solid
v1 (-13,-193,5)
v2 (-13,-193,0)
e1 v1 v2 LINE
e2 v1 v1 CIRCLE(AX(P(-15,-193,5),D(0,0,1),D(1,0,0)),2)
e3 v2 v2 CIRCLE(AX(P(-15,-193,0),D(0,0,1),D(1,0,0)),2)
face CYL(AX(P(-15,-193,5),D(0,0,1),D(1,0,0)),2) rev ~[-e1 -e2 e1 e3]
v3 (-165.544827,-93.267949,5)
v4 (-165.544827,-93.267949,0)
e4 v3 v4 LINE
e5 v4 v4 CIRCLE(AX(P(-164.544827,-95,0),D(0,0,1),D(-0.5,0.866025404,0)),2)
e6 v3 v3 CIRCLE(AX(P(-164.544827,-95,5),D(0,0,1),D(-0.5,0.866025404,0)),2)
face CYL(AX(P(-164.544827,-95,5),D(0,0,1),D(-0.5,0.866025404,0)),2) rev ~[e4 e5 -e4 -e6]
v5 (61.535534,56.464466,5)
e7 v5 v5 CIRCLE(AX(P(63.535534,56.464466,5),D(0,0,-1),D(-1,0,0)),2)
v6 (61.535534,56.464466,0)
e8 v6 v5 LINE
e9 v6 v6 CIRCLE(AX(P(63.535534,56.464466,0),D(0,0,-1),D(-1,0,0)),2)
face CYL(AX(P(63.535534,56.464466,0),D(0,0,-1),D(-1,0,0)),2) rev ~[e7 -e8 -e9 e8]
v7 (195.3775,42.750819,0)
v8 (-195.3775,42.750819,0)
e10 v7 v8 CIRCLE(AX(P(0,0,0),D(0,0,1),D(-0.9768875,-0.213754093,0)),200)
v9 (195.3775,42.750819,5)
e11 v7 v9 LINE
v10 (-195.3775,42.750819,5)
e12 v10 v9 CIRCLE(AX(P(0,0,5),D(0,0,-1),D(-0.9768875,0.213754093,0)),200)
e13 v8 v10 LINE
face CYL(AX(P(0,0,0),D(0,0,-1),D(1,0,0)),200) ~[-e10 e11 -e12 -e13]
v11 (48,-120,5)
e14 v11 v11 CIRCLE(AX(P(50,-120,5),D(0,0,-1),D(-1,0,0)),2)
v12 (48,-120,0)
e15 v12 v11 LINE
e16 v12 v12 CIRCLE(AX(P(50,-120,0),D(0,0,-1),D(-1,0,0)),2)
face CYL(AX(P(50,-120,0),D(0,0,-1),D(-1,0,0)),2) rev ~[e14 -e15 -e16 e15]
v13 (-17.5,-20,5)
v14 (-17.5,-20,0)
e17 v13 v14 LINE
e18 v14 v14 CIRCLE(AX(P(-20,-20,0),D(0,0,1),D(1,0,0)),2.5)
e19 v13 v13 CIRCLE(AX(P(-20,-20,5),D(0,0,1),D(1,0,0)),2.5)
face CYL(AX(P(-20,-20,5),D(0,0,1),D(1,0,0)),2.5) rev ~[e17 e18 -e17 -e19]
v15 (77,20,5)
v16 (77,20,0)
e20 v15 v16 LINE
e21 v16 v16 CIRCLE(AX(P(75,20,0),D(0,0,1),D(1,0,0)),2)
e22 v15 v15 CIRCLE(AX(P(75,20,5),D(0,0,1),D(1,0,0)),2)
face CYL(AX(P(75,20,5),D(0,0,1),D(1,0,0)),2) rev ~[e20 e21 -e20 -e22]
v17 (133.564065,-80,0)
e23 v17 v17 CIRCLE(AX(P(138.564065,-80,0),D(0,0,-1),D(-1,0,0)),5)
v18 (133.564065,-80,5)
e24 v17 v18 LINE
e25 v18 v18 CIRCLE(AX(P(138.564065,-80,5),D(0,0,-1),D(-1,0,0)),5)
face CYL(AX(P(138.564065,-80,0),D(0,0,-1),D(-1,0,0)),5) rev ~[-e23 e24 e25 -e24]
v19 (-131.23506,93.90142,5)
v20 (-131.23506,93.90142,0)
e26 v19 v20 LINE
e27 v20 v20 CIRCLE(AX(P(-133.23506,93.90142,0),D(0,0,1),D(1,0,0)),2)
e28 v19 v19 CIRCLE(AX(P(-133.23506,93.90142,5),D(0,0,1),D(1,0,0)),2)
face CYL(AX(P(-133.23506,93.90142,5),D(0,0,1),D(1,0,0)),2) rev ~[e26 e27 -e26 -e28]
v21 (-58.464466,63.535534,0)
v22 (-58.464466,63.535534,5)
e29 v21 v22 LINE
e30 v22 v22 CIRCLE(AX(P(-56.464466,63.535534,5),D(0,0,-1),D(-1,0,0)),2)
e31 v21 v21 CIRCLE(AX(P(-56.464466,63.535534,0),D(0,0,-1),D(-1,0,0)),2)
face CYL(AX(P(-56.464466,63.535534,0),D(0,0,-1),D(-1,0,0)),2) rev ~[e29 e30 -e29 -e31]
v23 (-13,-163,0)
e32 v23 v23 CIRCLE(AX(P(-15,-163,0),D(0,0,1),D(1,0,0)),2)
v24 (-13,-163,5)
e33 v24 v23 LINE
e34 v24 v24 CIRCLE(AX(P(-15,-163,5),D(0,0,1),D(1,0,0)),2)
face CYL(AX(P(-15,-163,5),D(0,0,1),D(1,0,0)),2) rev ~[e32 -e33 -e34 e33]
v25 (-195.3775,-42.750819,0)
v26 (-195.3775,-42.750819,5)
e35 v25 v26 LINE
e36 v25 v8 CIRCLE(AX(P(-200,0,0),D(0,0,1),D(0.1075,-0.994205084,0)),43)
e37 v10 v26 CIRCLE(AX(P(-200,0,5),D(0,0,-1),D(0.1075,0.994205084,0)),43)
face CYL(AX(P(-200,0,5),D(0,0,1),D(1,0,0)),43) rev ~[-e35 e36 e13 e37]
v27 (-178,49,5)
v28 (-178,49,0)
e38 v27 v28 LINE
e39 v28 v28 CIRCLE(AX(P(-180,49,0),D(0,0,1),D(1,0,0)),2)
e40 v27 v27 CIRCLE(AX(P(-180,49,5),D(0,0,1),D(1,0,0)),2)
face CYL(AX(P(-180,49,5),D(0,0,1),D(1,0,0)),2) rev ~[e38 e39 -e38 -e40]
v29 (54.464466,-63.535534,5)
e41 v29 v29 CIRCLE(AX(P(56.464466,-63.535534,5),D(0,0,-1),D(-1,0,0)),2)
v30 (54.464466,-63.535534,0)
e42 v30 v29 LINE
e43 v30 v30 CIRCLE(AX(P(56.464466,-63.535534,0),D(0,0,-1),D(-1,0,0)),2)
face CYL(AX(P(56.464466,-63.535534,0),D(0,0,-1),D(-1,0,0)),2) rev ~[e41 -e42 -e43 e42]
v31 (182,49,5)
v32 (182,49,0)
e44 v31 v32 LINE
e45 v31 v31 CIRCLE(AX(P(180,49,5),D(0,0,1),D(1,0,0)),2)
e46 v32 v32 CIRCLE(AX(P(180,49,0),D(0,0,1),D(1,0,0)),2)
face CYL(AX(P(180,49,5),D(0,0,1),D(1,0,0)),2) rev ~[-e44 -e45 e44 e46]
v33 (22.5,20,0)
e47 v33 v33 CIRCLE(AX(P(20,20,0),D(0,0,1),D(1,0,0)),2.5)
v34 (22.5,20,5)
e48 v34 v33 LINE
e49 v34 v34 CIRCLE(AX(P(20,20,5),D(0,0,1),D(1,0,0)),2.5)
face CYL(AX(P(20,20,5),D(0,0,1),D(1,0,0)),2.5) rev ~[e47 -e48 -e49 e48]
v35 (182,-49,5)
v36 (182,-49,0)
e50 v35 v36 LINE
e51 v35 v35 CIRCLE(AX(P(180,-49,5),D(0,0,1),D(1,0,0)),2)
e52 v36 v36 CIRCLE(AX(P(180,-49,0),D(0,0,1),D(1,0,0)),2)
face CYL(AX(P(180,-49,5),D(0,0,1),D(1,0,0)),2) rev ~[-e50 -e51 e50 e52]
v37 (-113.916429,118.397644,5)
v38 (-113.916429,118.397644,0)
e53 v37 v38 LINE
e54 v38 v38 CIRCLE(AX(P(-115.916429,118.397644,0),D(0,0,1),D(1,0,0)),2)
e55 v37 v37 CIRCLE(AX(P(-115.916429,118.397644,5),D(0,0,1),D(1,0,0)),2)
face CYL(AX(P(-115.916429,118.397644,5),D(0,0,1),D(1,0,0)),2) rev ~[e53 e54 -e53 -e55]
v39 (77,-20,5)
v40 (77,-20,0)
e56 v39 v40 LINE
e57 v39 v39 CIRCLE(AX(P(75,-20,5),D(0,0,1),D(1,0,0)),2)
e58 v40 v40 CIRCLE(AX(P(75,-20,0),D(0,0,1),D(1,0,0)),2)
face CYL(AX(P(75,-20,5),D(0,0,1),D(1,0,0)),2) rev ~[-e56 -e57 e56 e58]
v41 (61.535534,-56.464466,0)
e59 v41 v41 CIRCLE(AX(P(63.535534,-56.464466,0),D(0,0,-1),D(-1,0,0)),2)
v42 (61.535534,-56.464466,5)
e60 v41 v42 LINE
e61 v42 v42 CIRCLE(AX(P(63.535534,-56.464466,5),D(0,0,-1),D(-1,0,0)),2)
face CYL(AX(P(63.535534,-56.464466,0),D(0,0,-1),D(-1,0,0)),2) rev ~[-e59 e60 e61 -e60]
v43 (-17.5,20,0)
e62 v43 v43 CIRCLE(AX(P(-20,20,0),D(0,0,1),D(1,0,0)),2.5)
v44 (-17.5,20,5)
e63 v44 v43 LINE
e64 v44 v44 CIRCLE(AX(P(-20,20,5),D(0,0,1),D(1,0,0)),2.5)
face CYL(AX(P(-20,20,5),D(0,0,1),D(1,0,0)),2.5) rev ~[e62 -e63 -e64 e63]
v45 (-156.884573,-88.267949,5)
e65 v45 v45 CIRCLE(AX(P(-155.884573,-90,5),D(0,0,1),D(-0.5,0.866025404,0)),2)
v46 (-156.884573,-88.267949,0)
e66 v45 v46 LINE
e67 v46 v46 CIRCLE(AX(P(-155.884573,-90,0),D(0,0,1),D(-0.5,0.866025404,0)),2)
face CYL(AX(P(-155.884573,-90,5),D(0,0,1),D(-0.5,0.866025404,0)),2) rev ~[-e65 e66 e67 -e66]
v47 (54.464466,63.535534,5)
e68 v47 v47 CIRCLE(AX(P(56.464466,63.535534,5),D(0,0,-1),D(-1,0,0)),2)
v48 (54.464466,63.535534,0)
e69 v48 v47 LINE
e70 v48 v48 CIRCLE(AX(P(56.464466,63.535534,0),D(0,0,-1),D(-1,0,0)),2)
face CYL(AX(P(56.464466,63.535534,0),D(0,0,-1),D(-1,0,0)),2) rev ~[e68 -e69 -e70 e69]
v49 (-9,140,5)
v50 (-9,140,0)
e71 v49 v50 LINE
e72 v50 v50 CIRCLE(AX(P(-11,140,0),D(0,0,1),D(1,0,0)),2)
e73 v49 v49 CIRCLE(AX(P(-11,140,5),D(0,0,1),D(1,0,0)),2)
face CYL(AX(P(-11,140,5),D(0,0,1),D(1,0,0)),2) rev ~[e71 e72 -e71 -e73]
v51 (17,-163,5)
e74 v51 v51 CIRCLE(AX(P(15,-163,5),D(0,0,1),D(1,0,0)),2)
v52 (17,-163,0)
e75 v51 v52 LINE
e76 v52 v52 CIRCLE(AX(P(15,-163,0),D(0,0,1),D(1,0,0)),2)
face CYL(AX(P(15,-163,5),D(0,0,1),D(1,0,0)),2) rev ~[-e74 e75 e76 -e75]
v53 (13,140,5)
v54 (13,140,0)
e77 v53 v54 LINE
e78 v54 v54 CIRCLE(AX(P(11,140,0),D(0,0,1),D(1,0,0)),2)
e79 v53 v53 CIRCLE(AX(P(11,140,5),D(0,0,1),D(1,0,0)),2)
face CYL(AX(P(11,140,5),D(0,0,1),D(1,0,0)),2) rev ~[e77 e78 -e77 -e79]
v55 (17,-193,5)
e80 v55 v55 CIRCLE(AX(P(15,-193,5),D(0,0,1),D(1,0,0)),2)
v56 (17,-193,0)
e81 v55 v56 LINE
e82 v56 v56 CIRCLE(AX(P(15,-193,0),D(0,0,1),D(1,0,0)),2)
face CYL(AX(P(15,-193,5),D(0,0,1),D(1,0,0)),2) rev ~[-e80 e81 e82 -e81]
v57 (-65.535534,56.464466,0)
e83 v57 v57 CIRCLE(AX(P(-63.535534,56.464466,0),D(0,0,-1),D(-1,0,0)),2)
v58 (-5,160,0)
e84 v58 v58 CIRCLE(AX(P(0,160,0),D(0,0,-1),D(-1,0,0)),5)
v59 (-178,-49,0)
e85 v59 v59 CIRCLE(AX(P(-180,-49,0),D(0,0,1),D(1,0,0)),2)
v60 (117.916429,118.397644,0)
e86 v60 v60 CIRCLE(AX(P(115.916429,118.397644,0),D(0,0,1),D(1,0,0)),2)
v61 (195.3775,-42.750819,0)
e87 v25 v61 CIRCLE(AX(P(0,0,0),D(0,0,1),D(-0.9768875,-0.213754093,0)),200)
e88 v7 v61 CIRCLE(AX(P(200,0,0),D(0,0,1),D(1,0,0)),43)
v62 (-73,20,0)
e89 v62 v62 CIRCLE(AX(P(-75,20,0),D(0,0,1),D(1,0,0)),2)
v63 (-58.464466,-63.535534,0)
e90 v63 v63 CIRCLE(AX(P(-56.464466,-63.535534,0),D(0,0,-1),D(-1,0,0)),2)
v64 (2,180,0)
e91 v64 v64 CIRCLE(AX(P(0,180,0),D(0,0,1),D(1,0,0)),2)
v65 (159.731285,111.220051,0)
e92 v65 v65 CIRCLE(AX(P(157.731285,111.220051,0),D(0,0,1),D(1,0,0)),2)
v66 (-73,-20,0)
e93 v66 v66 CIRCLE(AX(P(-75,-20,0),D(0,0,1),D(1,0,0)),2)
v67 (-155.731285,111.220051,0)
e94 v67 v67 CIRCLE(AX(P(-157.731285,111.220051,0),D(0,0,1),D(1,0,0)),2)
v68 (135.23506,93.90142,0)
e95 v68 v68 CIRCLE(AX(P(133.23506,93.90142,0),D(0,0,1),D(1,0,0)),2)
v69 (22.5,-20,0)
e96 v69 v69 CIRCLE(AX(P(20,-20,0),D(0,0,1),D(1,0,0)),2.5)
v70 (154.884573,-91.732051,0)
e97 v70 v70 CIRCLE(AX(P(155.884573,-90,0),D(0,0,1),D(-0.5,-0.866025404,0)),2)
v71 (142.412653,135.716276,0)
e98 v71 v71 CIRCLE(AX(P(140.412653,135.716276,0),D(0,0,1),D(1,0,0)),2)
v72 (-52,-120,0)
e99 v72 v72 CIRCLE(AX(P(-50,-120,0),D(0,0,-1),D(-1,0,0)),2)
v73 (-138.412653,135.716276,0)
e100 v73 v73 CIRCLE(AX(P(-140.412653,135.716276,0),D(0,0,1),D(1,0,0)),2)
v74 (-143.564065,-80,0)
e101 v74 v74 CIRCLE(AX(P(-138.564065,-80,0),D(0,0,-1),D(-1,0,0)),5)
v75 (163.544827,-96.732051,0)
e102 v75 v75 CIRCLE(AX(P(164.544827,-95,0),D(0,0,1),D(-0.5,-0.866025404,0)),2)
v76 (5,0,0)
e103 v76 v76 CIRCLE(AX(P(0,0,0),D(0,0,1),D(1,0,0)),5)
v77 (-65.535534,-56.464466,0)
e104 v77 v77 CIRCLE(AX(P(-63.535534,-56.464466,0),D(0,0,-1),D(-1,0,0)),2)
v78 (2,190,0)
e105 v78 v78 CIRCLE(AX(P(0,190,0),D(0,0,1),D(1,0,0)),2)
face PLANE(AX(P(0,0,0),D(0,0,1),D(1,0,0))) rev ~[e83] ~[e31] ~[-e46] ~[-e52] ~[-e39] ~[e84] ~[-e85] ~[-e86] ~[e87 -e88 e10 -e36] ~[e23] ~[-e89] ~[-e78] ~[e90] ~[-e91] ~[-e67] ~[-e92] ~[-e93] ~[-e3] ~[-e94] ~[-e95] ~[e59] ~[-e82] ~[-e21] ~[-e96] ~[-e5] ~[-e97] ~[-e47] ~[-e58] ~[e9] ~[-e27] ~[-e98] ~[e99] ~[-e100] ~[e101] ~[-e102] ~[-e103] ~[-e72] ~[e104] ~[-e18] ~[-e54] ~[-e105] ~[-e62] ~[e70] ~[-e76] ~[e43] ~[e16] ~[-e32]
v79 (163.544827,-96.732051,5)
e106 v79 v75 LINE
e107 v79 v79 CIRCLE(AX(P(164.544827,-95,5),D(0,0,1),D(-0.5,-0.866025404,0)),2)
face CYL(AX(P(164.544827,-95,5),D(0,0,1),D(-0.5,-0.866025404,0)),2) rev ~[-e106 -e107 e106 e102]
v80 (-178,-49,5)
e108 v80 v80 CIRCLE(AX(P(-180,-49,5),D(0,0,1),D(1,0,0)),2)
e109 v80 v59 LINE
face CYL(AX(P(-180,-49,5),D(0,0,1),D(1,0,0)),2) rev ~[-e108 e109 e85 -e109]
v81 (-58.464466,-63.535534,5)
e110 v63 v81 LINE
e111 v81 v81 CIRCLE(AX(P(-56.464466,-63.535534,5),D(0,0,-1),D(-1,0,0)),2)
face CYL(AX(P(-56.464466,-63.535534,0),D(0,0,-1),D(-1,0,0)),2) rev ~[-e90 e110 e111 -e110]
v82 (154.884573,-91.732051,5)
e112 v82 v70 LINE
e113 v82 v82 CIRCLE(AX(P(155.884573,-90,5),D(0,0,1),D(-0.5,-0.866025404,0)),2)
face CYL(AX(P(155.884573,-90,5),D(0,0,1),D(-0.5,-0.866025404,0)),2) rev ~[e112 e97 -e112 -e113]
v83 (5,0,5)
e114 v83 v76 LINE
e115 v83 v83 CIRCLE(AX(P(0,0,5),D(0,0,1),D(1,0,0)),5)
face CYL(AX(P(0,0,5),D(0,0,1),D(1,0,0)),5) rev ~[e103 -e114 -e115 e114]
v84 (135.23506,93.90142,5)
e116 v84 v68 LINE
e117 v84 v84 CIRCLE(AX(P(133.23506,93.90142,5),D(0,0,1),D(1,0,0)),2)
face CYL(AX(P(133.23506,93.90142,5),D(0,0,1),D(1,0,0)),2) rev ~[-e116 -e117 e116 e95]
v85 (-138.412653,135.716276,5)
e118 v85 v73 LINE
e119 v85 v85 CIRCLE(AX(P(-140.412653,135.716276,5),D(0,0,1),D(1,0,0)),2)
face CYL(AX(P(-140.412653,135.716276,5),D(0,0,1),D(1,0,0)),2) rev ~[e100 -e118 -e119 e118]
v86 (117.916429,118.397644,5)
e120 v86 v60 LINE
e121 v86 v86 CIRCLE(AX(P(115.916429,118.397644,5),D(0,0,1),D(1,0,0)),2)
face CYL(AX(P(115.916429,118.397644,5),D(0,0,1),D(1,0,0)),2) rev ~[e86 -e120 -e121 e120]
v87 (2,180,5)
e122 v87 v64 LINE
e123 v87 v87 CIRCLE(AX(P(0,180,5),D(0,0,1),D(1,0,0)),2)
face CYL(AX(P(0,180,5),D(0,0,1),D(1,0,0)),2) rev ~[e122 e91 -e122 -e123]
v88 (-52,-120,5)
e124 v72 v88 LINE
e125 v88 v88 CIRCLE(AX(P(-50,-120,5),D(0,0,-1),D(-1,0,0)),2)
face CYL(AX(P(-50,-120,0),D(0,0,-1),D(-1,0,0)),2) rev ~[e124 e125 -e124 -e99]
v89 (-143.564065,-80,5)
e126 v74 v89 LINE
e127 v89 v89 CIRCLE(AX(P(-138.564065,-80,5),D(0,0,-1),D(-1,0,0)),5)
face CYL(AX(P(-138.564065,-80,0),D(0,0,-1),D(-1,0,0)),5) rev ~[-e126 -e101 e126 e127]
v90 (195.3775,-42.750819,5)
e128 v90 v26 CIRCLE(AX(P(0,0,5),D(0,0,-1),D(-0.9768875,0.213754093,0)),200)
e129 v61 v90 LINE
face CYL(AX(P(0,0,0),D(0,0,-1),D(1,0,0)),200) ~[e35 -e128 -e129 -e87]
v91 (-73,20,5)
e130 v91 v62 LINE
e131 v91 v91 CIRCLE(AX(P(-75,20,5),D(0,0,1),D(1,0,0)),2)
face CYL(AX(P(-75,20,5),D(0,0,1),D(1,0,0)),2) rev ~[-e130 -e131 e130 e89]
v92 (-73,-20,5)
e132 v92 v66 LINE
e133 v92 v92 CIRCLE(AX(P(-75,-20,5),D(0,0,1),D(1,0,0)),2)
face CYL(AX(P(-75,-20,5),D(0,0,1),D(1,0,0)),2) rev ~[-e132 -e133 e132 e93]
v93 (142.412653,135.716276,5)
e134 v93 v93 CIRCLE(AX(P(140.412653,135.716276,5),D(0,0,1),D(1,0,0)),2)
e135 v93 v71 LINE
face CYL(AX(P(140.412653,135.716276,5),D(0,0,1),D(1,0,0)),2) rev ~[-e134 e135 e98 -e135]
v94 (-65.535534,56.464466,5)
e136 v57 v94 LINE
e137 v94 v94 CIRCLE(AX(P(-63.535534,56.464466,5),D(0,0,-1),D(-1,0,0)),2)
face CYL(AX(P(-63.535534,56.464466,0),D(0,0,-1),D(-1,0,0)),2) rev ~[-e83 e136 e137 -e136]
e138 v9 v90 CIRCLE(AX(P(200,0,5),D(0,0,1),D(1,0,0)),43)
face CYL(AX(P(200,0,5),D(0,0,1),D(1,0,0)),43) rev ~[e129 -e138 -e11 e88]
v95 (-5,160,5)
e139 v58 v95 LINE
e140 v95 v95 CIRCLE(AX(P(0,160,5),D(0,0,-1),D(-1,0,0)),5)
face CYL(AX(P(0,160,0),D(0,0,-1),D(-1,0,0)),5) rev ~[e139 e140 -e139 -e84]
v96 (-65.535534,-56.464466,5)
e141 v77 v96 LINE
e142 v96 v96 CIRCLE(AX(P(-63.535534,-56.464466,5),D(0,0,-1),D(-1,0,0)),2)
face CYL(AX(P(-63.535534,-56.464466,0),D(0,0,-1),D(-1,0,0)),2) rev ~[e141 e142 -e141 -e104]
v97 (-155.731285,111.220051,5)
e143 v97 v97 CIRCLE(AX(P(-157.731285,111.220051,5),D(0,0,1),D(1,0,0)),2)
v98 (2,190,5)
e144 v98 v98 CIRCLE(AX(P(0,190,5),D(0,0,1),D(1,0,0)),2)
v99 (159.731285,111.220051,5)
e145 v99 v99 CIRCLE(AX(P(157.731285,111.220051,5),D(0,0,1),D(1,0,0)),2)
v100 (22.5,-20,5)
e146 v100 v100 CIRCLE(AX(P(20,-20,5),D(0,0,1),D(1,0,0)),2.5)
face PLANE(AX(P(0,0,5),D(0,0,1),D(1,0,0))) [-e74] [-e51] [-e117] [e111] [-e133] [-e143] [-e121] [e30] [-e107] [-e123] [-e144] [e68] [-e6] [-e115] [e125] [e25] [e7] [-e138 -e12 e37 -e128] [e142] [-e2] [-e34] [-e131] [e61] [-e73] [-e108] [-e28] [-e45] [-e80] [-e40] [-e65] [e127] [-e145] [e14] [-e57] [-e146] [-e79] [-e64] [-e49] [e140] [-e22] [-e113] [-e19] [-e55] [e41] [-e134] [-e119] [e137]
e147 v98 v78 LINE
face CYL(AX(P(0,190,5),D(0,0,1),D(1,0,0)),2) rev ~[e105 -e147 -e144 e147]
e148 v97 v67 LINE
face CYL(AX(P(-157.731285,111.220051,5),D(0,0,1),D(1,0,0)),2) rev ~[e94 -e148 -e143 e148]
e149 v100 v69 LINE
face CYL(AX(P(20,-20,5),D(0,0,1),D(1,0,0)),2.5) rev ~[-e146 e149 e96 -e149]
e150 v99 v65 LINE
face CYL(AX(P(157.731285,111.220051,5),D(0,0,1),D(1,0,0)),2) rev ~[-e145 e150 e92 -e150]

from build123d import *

# Parameters (mm, degrees)
SKETCH1_R           = 200
BOSS_EXTRUDE1_DEPTH = 5
SKETCH3_R           = 2
CUT_EXTRUDE1_DEPTH  = 5
CIRPATTERN1_COUNT   = 3
CUT_EXTRUDE2_REACH  = 7
SKETCH4_R           = 43
CUT_EXTRUDE3_REACH  = 7
SKETCH5_R           = 2
CUT_EXTRUDE4_REACH  = 7
SKETCH6_R           = 2.5
SKETCH6_R_2         = 5
CUT_EXTRUDE5_REACH  = 7
SKETCH7_R           = 2
CUT_EXTRUDE6_REACH  = 7
SKETCH8_R           = 2
CUT_EXTRUDE7_REACH  = 7
SKETCH9_R           = 2
CUT_EXTRUDE8_REACH  = 7
SKETCH11_R          = 2
CUT_EXTRUDE9_REACH  = 7
SKETCH12_R          = 2
CUT_EXTRUDE10_REACH = 7
SKETCH10_R          = 5


with BuildPart() as part:
    # Sketch1 → Boss-Extrude1 (new body)
    with BuildSketch(Plane.XY):
        Circle(SKETCH1_R)
    extrude(amount=BOSS_EXTRUDE1_DEPTH)

    # Sketch3 → Cut-Extrude1 (cut)
    with BuildSketch(Plane.XY.offset(5)):
        with Locations((0, 190)):
            Circle(SKETCH3_R)
        with Locations((0, 180)):
            Circle(SKETCH3_R)
    cut_extrude1 = extrude(amount=-CUT_EXTRUDE1_DEPTH, mode=Mode.SUBTRACT)

    # CirPattern1: Cut-Extrude1 ×3 about axis
    cirpattern1_axis = Axis((0, 0, 0), (0, 0, 1))
    for i in range(1, CIRPATTERN1_COUNT):
        add(cut_extrude1.rotate(cirpattern1_axis, i * 360 / CIRPATTERN1_COUNT), mode=Mode.SUBTRACT)

    # Sketch4 → Cut-Extrude2 (cut, up to next)
    with BuildSketch(Plane.XY.offset(5), mode=Mode.PRIVATE) as cut_extrude2_sk1:
        with Locations((-200, 0)):
            Circle(SKETCH4_R)
    cut_extrude2_tool1 = extrude(cut_extrude2_sk1.sketch, amount=-CUT_EXTRUDE2_REACH, mode=Mode.PRIVATE) & part.part
    add(cut_extrude2_tool1.solids().sort_by_distance((-200, 0, 5))[0], mode=Mode.SUBTRACT)
    # Sketch4 → Cut-Extrude2 (cut, up to next)
    with BuildSketch(Plane.XY.offset(5), mode=Mode.PRIVATE) as cut_extrude2_sk2:
        with Locations((200, 0)):
            Circle(SKETCH4_R)
    cut_extrude2_tool2 = extrude(cut_extrude2_sk2.sketch, amount=-CUT_EXTRUDE2_REACH, mode=Mode.PRIVATE) & part.part
    add(cut_extrude2_tool2.solids().sort_by_distance((200, 0, 5))[0], mode=Mode.SUBTRACT)

    # Sketch5 → Cut-Extrude3 (cut, up to next)
    with BuildSketch(Plane.XY.offset(5), mode=Mode.PRIVATE) as cut_extrude3_sk1:
        with Locations((180, 49)):
            Circle(SKETCH5_R)
    cut_extrude3_tool1 = extrude(cut_extrude3_sk1.sketch, amount=-CUT_EXTRUDE3_REACH, mode=Mode.PRIVATE) & part.part
    add(cut_extrude3_tool1.solids().sort_by_distance((180, 49, 5))[0], mode=Mode.SUBTRACT)
    # Sketch5 → Cut-Extrude3 (cut, up to next)
    with BuildSketch(Plane.XY.offset(5), mode=Mode.PRIVATE) as cut_extrude3_sk2:
        with Locations((180, -49)):
            Circle(SKETCH5_R)
    cut_extrude3_tool2 = extrude(cut_extrude3_sk2.sketch, amount=-CUT_EXTRUDE3_REACH, mode=Mode.PRIVATE) & part.part
    add(cut_extrude3_tool2.solids().sort_by_distance((180, -49, 5))[0], mode=Mode.SUBTRACT)
    # Sketch5 → Cut-Extrude3 (cut, up to next)
    with BuildSketch(Plane.XY.offset(5), mode=Mode.PRIVATE) as cut_extrude3_sk3:
        with Locations((-180, -49)):
            Circle(SKETCH5_R)
    cut_extrude3_tool3 = extrude(cut_extrude3_sk3.sketch, amount=-CUT_EXTRUDE3_REACH, mode=Mode.PRIVATE) & part.part
    add(cut_extrude3_tool3.solids().sort_by_distance((-180, -49, 5))[0], mode=Mode.SUBTRACT)
    # Sketch5 → Cut-Extrude3 (cut, up to next)
    with BuildSketch(Plane.XY.offset(5), mode=Mode.PRIVATE) as cut_extrude3_sk4:
        with Locations((-180, 49)):
            Circle(SKETCH5_R)
    cut_extrude3_tool4 = extrude(cut_extrude3_sk4.sketch, amount=-CUT_EXTRUDE3_REACH, mode=Mode.PRIVATE) & part.part
    add(cut_extrude3_tool4.solids().sort_by_distance((-180, 49, 5))[0], mode=Mode.SUBTRACT)

    # Sketch6 → Cut-Extrude4 (cut, up to next)
    with BuildSketch(Plane.XY.offset(5), mode=Mode.PRIVATE) as cut_extrude4_sk1:
        with Locations((-20, -20)):
            Circle(SKETCH6_R)
    cut_extrude4_tool1 = extrude(cut_extrude4_sk1.sketch, amount=-CUT_EXTRUDE4_REACH, mode=Mode.PRIVATE) & part.part
    add(cut_extrude4_tool1.solids().sort_by_distance((-20, -20, 5))[0], mode=Mode.SUBTRACT)
    # Sketch6 → Cut-Extrude4 (cut, up to next)
    with BuildSketch(Plane.XY.offset(5), mode=Mode.PRIVATE) as cut_extrude4_sk2:
        with Locations((-20, 20)):
            Circle(SKETCH6_R)
    cut_extrude4_tool2 = extrude(cut_extrude4_sk2.sketch, amount=-CUT_EXTRUDE4_REACH, mode=Mode.PRIVATE) & part.part
    add(cut_extrude4_tool2.solids().sort_by_distance((-20, 20, 5))[0], mode=Mode.SUBTRACT)
    # Sketch6 → Cut-Extrude4 (cut, up to next)
    with BuildSketch(Plane.XY.offset(5), mode=Mode.PRIVATE) as cut_extrude4_sk3:
        Circle(SKETCH6_R_2)
    cut_extrude4_tool3 = extrude(cut_extrude4_sk3.sketch, amount=-CUT_EXTRUDE4_REACH, mode=Mode.PRIVATE) & part.part
    add(cut_extrude4_tool3.solids().sort_by_distance((0, 0, 5))[0], mode=Mode.SUBTRACT)
    # Sketch6 → Cut-Extrude4 (cut, up to next)
    with BuildSketch(Plane.XY.offset(5), mode=Mode.PRIVATE) as cut_extrude4_sk4:
        with Locations((20, -20)):
            Circle(SKETCH6_R)
    cut_extrude4_tool4 = extrude(cut_extrude4_sk4.sketch, amount=-CUT_EXTRUDE4_REACH, mode=Mode.PRIVATE) & part.part
    add(cut_extrude4_tool4.solids().sort_by_distance((20, -20, 5))[0], mode=Mode.SUBTRACT)
    # Sketch6 → Cut-Extrude4 (cut, up to next)
    with BuildSketch(Plane.XY.offset(5), mode=Mode.PRIVATE) as cut_extrude4_sk5:
        with Locations((20, 20)):
            Circle(SKETCH6_R)
    cut_extrude4_tool5 = extrude(cut_extrude4_sk5.sketch, amount=-CUT_EXTRUDE4_REACH, mode=Mode.PRIVATE) & part.part
    add(cut_extrude4_tool5.solids().sort_by_distance((20, 20, 5))[0], mode=Mode.SUBTRACT)

    # Sketch7 → Cut-Extrude5 (cut, up to next)
    with BuildSketch(Plane.XY.offset(5), mode=Mode.PRIVATE) as cut_extrude5_sk1:
        with Locations((-15, -193)):
            Circle(SKETCH7_R)
    cut_extrude5_tool1 = extrude(cut_extrude5_sk1.sketch, amount=-CUT_EXTRUDE5_REACH, mode=Mode.PRIVATE) & part.part
    add(cut_extrude5_tool1.solids().sort_by_distance((-15, -193, 5))[0], mode=Mode.SUBTRACT)
    # Sketch7 → Cut-Extrude5 (cut, up to next)
    with BuildSketch(Plane.XY.offset(5), mode=Mode.PRIVATE) as cut_extrude5_sk2:
        with Locations((15, -193)):
            Circle(SKETCH7_R)
    cut_extrude5_tool2 = extrude(cut_extrude5_sk2.sketch, amount=-CUT_EXTRUDE5_REACH, mode=Mode.PRIVATE) & part.part
    add(cut_extrude5_tool2.solids().sort_by_distance((15, -193, 5))[0], mode=Mode.SUBTRACT)
    # Sketch7 → Cut-Extrude5 (cut, up to next)
    with BuildSketch(Plane.XY.offset(5), mode=Mode.PRIVATE) as cut_extrude5_sk3:
        with Locations((15, -163)):
            Circle(SKETCH7_R)
    cut_extrude5_tool3 = extrude(cut_extrude5_sk3.sketch, amount=-CUT_EXTRUDE5_REACH, mode=Mode.PRIVATE) & part.part
    add(cut_extrude5_tool3.solids().sort_by_distance((15, -163, 5))[0], mode=Mode.SUBTRACT)
    # Sketch7 → Cut-Extrude5 (cut, up to next)
    with BuildSketch(Plane.XY.offset(5), mode=Mode.PRIVATE) as cut_extrude5_sk4:
        with Locations((-15, -163)):
            Circle(SKETCH7_R)
    cut_extrude5_tool4 = extrude(cut_extrude5_sk4.sketch, amount=-CUT_EXTRUDE5_REACH, mode=Mode.PRIVATE) & part.part
    add(cut_extrude5_tool4.solids().sort_by_distance((-15, -163, 5))[0], mode=Mode.SUBTRACT)
    # Sketch7 → Cut-Extrude5 (cut, up to next)
    with BuildSketch(Plane.XY.offset(5), mode=Mode.PRIVATE) as cut_extrude5_sk5:
        with Locations((133.235060167, 93.901419803)):
            Circle(SKETCH7_R)
    cut_extrude5_tool5 = extrude(cut_extrude5_sk5.sketch, amount=-CUT_EXTRUDE5_REACH, mode=Mode.PRIVATE) & part.part
    add(cut_extrude5_tool5.solids().sort_by_distance((133.23506, 93.90142, 5))[0], mode=Mode.SUBTRACT)
    # Sketch7 → Cut-Extrude5 (cut, up to next)
    with BuildSketch(Plane.XY.offset(5), mode=Mode.PRIVATE) as cut_extrude5_sk6:
        with Locations((115.916428804, 118.39764416)):
            Circle(SKETCH7_R)
    cut_extrude5_tool6 = extrude(cut_extrude5_sk6.sketch, amount=-CUT_EXTRUDE5_REACH, mode=Mode.PRIVATE) & part.part
    add(cut_extrude5_tool6.solids().sort_by_distance((115.916429, 118.397644, 5))[0], mode=Mode.SUBTRACT)
    # Sketch7 → Cut-Extrude5 (cut, up to next)
    with BuildSketch(Plane.XY.offset(5), mode=Mode.PRIVATE) as cut_extrude5_sk7:
        with Locations((140.412653161, 135.716275522)):
            Circle(SKETCH7_R)
    cut_extrude5_tool7 = extrude(cut_extrude5_sk7.sketch, amount=-CUT_EXTRUDE5_REACH, mode=Mode.PRIVATE) & part.part
    add(cut_extrude5_tool7.solids().sort_by_distance((140.412653, 135.716276, 5))[0], mode=Mode.SUBTRACT)
    # Sketch7 → Cut-Extrude5 (cut, up to next)
    with BuildSketch(Plane.XY.offset(5), mode=Mode.PRIVATE) as cut_extrude5_sk8:
        with Locations((157.731284523, 111.220051166)):
            Circle(SKETCH7_R)
    cut_extrude5_tool8 = extrude(cut_extrude5_sk8.sketch, amount=-CUT_EXTRUDE5_REACH, mode=Mode.PRIVATE) & part.part
    add(cut_extrude5_tool8.solids().sort_by_distance((157.731285, 111.220051, 5))[0], mode=Mode.SUBTRACT)
    # Sketch7 → Cut-Extrude5 (cut, up to next)
    with BuildSketch(Plane.XY.offset(5), mode=Mode.PRIVATE) as cut_extrude5_sk9:
        with Locations((-157.731284523, 111.220051166)):
            Circle(SKETCH7_R)
    cut_extrude5_tool9 = extrude(cut_extrude5_sk9.sketch, amount=-CUT_EXTRUDE5_REACH, mode=Mode.PRIVATE) & part.part
    add(cut_extrude5_tool9.solids().sort_by_distance((-157.731285, 111.220051, 5))[0], mode=Mode.SUBTRACT)
    # Sketch7 → Cut-Extrude5 (cut, up to next)
    with BuildSketch(Plane.XY.offset(5), mode=Mode.PRIVATE) as cut_extrude5_sk10:
        with Locations((-133.235060167, 93.901419803)):
            Circle(SKETCH7_R)
    cut_extrude5_tool10 = extrude(cut_extrude5_sk10.sketch, amount=-CUT_EXTRUDE5_REACH, mode=Mode.PRIVATE) & part.part
    add(cut_extrude5_tool10.solids().sort_by_distance((-133.23506, 93.90142, 5))[0], mode=Mode.SUBTRACT)
    # Sketch7 → Cut-Extrude5 (cut, up to next)
    with BuildSketch(Plane.XY.offset(5), mode=Mode.PRIVATE) as cut_extrude5_sk11:
        with Locations((-115.916428804, 118.39764416)):
            Circle(SKETCH7_R)
    cut_extrude5_tool11 = extrude(cut_extrude5_sk11.sketch, amount=-CUT_EXTRUDE5_REACH, mode=Mode.PRIVATE) & part.part
    add(cut_extrude5_tool11.solids().sort_by_distance((-115.916429, 118.397644, 5))[0], mode=Mode.SUBTRACT)
    # Sketch7 → Cut-Extrude5 (cut, up to next)
    with BuildSketch(Plane.XY.offset(5), mode=Mode.PRIVATE) as cut_extrude5_sk12:
        with Locations((-140.412653161, 135.716275522)):
            Circle(SKETCH7_R)
    cut_extrude5_tool12 = extrude(cut_extrude5_sk12.sketch, amount=-CUT_EXTRUDE5_REACH, mode=Mode.PRIVATE) & part.part
    add(cut_extrude5_tool12.solids().sort_by_distance((-140.412653, 135.716276, 5))[0], mode=Mode.SUBTRACT)

    # Sketch8 → Cut-Extrude6 (cut, up to next)
    with BuildSketch(Plane.XY.offset(5), mode=Mode.PRIVATE) as cut_extrude6_sk1:
        with Locations((-11, 140)):
            Circle(SKETCH8_R)
    cut_extrude6_tool1 = extrude(cut_extrude6_sk1.sketch, amount=-CUT_EXTRUDE6_REACH, mode=Mode.PRIVATE) & part.part
    add(cut_extrude6_tool1.solids().sort_by_distance((-11, 140, 5))[0], mode=Mode.SUBTRACT)
    # Sketch8 → Cut-Extrude6 (cut, up to next)
    with BuildSketch(Plane.XY.offset(5), mode=Mode.PRIVATE) as cut_extrude6_sk2:
        with Locations((11, 140)):
            Circle(SKETCH8_R)
    cut_extrude6_tool2 = extrude(cut_extrude6_sk2.sketch, amount=-CUT_EXTRUDE6_REACH, mode=Mode.PRIVATE) & part.part
    add(cut_extrude6_tool2.solids().sort_by_distance((11, 140, 5))[0], mode=Mode.SUBTRACT)

    # Sketch9 → Cut-Extrude7 (cut, up to next)
    with BuildSketch(Plane.XY.offset(5), mode=Mode.PRIVATE) as cut_extrude7_sk1:
        with Locations((75, -20)):
            Circle(SKETCH9_R)
    cut_extrude7_tool1 = extrude(cut_extrude7_sk1.sketch, amount=-CUT_EXTRUDE7_REACH, mode=Mode.PRIVATE) & part.part
    add(cut_extrude7_tool1.solids().sort_by_distance((75, -20, 5))[0], mode=Mode.SUBTRACT)
    # Sketch9 → Cut-Extrude7 (cut, up to next)
    with BuildSketch(Plane.XY.offset(5), mode=Mode.PRIVATE) as cut_extrude7_sk2:
        with Locations((75, 20)):
            Circle(SKETCH9_R)
    cut_extrude7_tool2 = extrude(cut_extrude7_sk2.sketch, amount=-CUT_EXTRUDE7_REACH, mode=Mode.PRIVATE) & part.part
    add(cut_extrude7_tool2.solids().sort_by_distance((75, 20, 5))[0], mode=Mode.SUBTRACT)
    # Sketch9 → Cut-Extrude7 (cut, up to next)
    with BuildSketch(Plane.XY.offset(5), mode=Mode.PRIVATE) as cut_extrude7_sk3:
        with Locations((-75, -20)):
            Circle(SKETCH9_R)
    cut_extrude7_tool3 = extrude(cut_extrude7_sk3.sketch, amount=-CUT_EXTRUDE7_REACH, mode=Mode.PRIVATE) & part.part
    add(cut_extrude7_tool3.solids().sort_by_distance((-75, -20, 5))[0], mode=Mode.SUBTRACT)
    # Sketch9 → Cut-Extrude7 (cut, up to next)
    with BuildSketch(Plane.XY.offset(5), mode=Mode.PRIVATE) as cut_extrude7_sk4:
        with Locations((-75, 20)):
            Circle(SKETCH9_R)
    cut_extrude7_tool4 = extrude(cut_extrude7_sk4.sketch, amount=-CUT_EXTRUDE7_REACH, mode=Mode.PRIVATE) & part.part
    add(cut_extrude7_tool4.solids().sort_by_distance((-75, 20, 5))[0], mode=Mode.SUBTRACT)

    # Sketch11 → Cut-Extrude8 (cut, up to next)
    with BuildSketch(Plane(origin=(0, 0, 0), x_dir=(-1, 0, 0), z_dir=(0, 0, -1)), mode=Mode.PRIVATE) as cut_extrude8_sk1:
        with Locations((-50, -120)):
            Circle(SKETCH11_R)
    cut_extrude8_tool1 = extrude(cut_extrude8_sk1.sketch, amount=-CUT_EXTRUDE8_REACH, mode=Mode.PRIVATE) & part.part
    add(cut_extrude8_tool1.solids().sort_by_distance((50, -120, 0))[0], mode=Mode.SUBTRACT)
    # Sketch11 → Cut-Extrude8 (cut, up to next)
    with BuildSketch(Plane(origin=(0, 0, 0), x_dir=(-1, 0, 0), z_dir=(0, 0, -1)), mode=Mode.PRIVATE) as cut_extrude8_sk2:
        with Locations((50, -120)):
            Circle(SKETCH11_R)
    cut_extrude8_tool2 = extrude(cut_extrude8_sk2.sketch, amount=-CUT_EXTRUDE8_REACH, mode=Mode.PRIVATE) & part.part
    add(cut_extrude8_tool2.solids().sort_by_distance((-50, -120, 0))[0], mode=Mode.SUBTRACT)

    # Sketch12 → Cut-Extrude9 (cut, up to next)
    with BuildSketch(Plane(origin=(0, 0, 0), x_dir=(-1, 0, 0), z_dir=(0, 0, -1)), mode=Mode.PRIVATE) as cut_extrude9_sk1:
        with Locations((-63.535533906, -56.464466094)):
            Circle(SKETCH12_R)
    cut_extrude9_tool1 = extrude(cut_extrude9_sk1.sketch, amount=-CUT_EXTRUDE9_REACH, mode=Mode.PRIVATE) & part.part
    add(cut_extrude9_tool1.solids().sort_by_distance((63.535534, -56.464466, 0))[0], mode=Mode.SUBTRACT)
    # Sketch12 → Cut-Extrude9 (cut, up to next)
    with BuildSketch(Plane(origin=(0, 0, 0), x_dir=(-1, 0, 0), z_dir=(0, 0, -1)), mode=Mode.PRIVATE) as cut_extrude9_sk2:
        with Locations((-56.464466094, -63.535533906)):
            Circle(SKETCH12_R)
    cut_extrude9_tool2 = extrude(cut_extrude9_sk2.sketch, amount=-CUT_EXTRUDE9_REACH, mode=Mode.PRIVATE) & part.part
    add(cut_extrude9_tool2.solids().sort_by_distance((56.464466, -63.535534, 0))[0], mode=Mode.SUBTRACT)
    # Sketch12 → Cut-Extrude9 (cut, up to next)
    with BuildSketch(Plane(origin=(0, 0, 0), x_dir=(-1, 0, 0), z_dir=(0, 0, -1)), mode=Mode.PRIVATE) as cut_extrude9_sk3:
        with Locations((63.535533906, -56.464466094)):
            Circle(SKETCH12_R)
    cut_extrude9_tool3 = extrude(cut_extrude9_sk3.sketch, amount=-CUT_EXTRUDE9_REACH, mode=Mode.PRIVATE) & part.part
    add(cut_extrude9_tool3.solids().sort_by_distance((-63.535534, -56.464466, 0))[0], mode=Mode.SUBTRACT)
    # Sketch12 → Cut-Extrude9 (cut, up to next)
    with BuildSketch(Plane(origin=(0, 0, 0), x_dir=(-1, 0, 0), z_dir=(0, 0, -1)), mode=Mode.PRIVATE) as cut_extrude9_sk4:
        with Locations((56.464466094, -63.535533906)):
            Circle(SKETCH12_R)
    cut_extrude9_tool4 = extrude(cut_extrude9_sk4.sketch, amount=-CUT_EXTRUDE9_REACH, mode=Mode.PRIVATE) & part.part
    add(cut_extrude9_tool4.solids().sort_by_distance((-56.464466, -63.535534, 0))[0], mode=Mode.SUBTRACT)
    # Sketch12 → Cut-Extrude9 (cut, up to next)
    with BuildSketch(Plane(origin=(0, 0, 0), x_dir=(-1, 0, 0), z_dir=(0, 0, -1)), mode=Mode.PRIVATE) as cut_extrude9_sk5:
        with Locations((63.535533906, 56.464466094)):
            Circle(SKETCH12_R)
    cut_extrude9_tool5 = extrude(cut_extrude9_sk5.sketch, amount=-CUT_EXTRUDE9_REACH, mode=Mode.PRIVATE) & part.part
    add(cut_extrude9_tool5.solids().sort_by_distance((-63.535534, 56.464466, 0))[0], mode=Mode.SUBTRACT)
    # Sketch12 → Cut-Extrude9 (cut, up to next)
    with BuildSketch(Plane(origin=(0, 0, 0), x_dir=(-1, 0, 0), z_dir=(0, 0, -1)), mode=Mode.PRIVATE) as cut_extrude9_sk6:
        with Locations((56.464466094, 63.535533906)):
            Circle(SKETCH12_R)
    cut_extrude9_tool6 = extrude(cut_extrude9_sk6.sketch, amount=-CUT_EXTRUDE9_REACH, mode=Mode.PRIVATE) & part.part
    add(cut_extrude9_tool6.solids().sort_by_distance((-56.464466, 63.535534, 0))[0], mode=Mode.SUBTRACT)
    # Sketch12 → Cut-Extrude9 (cut, up to next)
    with BuildSketch(Plane(origin=(0, 0, 0), x_dir=(-1, 0, 0), z_dir=(0, 0, -1)), mode=Mode.PRIVATE) as cut_extrude9_sk7:
        with Locations((-56.464466094, 63.535533906)):
            Circle(SKETCH12_R)
    cut_extrude9_tool7 = extrude(cut_extrude9_sk7.sketch, amount=-CUT_EXTRUDE9_REACH, mode=Mode.PRIVATE) & part.part
    add(cut_extrude9_tool7.solids().sort_by_distance((56.464466, 63.535534, 0))[0], mode=Mode.SUBTRACT)
    # Sketch12 → Cut-Extrude9 (cut, up to next)
    with BuildSketch(Plane(origin=(0, 0, 0), x_dir=(-1, 0, 0), z_dir=(0, 0, -1)), mode=Mode.PRIVATE) as cut_extrude9_sk8:
        with Locations((-63.535533906, 56.464466094)):
            Circle(SKETCH12_R)
    cut_extrude9_tool8 = extrude(cut_extrude9_sk8.sketch, amount=-CUT_EXTRUDE9_REACH, mode=Mode.PRIVATE) & part.part
    add(cut_extrude9_tool8.solids().sort_by_distance((63.535534, 56.464466, 0))[0], mode=Mode.SUBTRACT)

    # Sketch10 → Cut-Extrude10 (cut, up to next)
    with BuildSketch(Plane(origin=(0, 0, 0), x_dir=(-1, 0, 0), z_dir=(0, 0, -1)), mode=Mode.PRIVATE) as cut_extrude10_sk1:
        with Locations((-138.564064606, -80)):
            Circle(SKETCH10_R)
    cut_extrude10_tool1 = extrude(cut_extrude10_sk1.sketch, amount=-CUT_EXTRUDE10_REACH, mode=Mode.PRIVATE) & part.part
    add(cut_extrude10_tool1.solids().sort_by_distance((138.564065, -80, 0))[0], mode=Mode.SUBTRACT)
    # Sketch10 → Cut-Extrude10 (cut, up to next)
    with BuildSketch(Plane(origin=(0, 0, 0), x_dir=(-1, 0, 0), z_dir=(0, 0, -1)), mode=Mode.PRIVATE) as cut_extrude10_sk2:
        with Locations((138.564064606, -80)):
            Circle(SKETCH10_R)
    cut_extrude10_tool2 = extrude(cut_extrude10_sk2.sketch, amount=-CUT_EXTRUDE10_REACH, mode=Mode.PRIVATE) & part.part
    add(cut_extrude10_tool2.solids().sort_by_distance((-138.564065, -80, 0))[0], mode=Mode.SUBTRACT)
    # Sketch10 → Cut-Extrude10 (cut, up to next)
    with BuildSketch(Plane(origin=(0, 0, 0), x_dir=(-1, 0, 0), z_dir=(0, 0, -1)), mode=Mode.PRIVATE) as cut_extrude10_sk3:
        with Locations((0, 160)):
            Circle(SKETCH10_R)
    cut_extrude10_tool3 = extrude(cut_extrude10_sk3.sketch, amount=-CUT_EXTRUDE10_REACH, mode=Mode.PRIVATE) & part.part
    add(cut_extrude10_tool3.solids().sort_by_distance((0, 160, 0))[0], mode=Mode.SUBTRACT)


solid = part.part
